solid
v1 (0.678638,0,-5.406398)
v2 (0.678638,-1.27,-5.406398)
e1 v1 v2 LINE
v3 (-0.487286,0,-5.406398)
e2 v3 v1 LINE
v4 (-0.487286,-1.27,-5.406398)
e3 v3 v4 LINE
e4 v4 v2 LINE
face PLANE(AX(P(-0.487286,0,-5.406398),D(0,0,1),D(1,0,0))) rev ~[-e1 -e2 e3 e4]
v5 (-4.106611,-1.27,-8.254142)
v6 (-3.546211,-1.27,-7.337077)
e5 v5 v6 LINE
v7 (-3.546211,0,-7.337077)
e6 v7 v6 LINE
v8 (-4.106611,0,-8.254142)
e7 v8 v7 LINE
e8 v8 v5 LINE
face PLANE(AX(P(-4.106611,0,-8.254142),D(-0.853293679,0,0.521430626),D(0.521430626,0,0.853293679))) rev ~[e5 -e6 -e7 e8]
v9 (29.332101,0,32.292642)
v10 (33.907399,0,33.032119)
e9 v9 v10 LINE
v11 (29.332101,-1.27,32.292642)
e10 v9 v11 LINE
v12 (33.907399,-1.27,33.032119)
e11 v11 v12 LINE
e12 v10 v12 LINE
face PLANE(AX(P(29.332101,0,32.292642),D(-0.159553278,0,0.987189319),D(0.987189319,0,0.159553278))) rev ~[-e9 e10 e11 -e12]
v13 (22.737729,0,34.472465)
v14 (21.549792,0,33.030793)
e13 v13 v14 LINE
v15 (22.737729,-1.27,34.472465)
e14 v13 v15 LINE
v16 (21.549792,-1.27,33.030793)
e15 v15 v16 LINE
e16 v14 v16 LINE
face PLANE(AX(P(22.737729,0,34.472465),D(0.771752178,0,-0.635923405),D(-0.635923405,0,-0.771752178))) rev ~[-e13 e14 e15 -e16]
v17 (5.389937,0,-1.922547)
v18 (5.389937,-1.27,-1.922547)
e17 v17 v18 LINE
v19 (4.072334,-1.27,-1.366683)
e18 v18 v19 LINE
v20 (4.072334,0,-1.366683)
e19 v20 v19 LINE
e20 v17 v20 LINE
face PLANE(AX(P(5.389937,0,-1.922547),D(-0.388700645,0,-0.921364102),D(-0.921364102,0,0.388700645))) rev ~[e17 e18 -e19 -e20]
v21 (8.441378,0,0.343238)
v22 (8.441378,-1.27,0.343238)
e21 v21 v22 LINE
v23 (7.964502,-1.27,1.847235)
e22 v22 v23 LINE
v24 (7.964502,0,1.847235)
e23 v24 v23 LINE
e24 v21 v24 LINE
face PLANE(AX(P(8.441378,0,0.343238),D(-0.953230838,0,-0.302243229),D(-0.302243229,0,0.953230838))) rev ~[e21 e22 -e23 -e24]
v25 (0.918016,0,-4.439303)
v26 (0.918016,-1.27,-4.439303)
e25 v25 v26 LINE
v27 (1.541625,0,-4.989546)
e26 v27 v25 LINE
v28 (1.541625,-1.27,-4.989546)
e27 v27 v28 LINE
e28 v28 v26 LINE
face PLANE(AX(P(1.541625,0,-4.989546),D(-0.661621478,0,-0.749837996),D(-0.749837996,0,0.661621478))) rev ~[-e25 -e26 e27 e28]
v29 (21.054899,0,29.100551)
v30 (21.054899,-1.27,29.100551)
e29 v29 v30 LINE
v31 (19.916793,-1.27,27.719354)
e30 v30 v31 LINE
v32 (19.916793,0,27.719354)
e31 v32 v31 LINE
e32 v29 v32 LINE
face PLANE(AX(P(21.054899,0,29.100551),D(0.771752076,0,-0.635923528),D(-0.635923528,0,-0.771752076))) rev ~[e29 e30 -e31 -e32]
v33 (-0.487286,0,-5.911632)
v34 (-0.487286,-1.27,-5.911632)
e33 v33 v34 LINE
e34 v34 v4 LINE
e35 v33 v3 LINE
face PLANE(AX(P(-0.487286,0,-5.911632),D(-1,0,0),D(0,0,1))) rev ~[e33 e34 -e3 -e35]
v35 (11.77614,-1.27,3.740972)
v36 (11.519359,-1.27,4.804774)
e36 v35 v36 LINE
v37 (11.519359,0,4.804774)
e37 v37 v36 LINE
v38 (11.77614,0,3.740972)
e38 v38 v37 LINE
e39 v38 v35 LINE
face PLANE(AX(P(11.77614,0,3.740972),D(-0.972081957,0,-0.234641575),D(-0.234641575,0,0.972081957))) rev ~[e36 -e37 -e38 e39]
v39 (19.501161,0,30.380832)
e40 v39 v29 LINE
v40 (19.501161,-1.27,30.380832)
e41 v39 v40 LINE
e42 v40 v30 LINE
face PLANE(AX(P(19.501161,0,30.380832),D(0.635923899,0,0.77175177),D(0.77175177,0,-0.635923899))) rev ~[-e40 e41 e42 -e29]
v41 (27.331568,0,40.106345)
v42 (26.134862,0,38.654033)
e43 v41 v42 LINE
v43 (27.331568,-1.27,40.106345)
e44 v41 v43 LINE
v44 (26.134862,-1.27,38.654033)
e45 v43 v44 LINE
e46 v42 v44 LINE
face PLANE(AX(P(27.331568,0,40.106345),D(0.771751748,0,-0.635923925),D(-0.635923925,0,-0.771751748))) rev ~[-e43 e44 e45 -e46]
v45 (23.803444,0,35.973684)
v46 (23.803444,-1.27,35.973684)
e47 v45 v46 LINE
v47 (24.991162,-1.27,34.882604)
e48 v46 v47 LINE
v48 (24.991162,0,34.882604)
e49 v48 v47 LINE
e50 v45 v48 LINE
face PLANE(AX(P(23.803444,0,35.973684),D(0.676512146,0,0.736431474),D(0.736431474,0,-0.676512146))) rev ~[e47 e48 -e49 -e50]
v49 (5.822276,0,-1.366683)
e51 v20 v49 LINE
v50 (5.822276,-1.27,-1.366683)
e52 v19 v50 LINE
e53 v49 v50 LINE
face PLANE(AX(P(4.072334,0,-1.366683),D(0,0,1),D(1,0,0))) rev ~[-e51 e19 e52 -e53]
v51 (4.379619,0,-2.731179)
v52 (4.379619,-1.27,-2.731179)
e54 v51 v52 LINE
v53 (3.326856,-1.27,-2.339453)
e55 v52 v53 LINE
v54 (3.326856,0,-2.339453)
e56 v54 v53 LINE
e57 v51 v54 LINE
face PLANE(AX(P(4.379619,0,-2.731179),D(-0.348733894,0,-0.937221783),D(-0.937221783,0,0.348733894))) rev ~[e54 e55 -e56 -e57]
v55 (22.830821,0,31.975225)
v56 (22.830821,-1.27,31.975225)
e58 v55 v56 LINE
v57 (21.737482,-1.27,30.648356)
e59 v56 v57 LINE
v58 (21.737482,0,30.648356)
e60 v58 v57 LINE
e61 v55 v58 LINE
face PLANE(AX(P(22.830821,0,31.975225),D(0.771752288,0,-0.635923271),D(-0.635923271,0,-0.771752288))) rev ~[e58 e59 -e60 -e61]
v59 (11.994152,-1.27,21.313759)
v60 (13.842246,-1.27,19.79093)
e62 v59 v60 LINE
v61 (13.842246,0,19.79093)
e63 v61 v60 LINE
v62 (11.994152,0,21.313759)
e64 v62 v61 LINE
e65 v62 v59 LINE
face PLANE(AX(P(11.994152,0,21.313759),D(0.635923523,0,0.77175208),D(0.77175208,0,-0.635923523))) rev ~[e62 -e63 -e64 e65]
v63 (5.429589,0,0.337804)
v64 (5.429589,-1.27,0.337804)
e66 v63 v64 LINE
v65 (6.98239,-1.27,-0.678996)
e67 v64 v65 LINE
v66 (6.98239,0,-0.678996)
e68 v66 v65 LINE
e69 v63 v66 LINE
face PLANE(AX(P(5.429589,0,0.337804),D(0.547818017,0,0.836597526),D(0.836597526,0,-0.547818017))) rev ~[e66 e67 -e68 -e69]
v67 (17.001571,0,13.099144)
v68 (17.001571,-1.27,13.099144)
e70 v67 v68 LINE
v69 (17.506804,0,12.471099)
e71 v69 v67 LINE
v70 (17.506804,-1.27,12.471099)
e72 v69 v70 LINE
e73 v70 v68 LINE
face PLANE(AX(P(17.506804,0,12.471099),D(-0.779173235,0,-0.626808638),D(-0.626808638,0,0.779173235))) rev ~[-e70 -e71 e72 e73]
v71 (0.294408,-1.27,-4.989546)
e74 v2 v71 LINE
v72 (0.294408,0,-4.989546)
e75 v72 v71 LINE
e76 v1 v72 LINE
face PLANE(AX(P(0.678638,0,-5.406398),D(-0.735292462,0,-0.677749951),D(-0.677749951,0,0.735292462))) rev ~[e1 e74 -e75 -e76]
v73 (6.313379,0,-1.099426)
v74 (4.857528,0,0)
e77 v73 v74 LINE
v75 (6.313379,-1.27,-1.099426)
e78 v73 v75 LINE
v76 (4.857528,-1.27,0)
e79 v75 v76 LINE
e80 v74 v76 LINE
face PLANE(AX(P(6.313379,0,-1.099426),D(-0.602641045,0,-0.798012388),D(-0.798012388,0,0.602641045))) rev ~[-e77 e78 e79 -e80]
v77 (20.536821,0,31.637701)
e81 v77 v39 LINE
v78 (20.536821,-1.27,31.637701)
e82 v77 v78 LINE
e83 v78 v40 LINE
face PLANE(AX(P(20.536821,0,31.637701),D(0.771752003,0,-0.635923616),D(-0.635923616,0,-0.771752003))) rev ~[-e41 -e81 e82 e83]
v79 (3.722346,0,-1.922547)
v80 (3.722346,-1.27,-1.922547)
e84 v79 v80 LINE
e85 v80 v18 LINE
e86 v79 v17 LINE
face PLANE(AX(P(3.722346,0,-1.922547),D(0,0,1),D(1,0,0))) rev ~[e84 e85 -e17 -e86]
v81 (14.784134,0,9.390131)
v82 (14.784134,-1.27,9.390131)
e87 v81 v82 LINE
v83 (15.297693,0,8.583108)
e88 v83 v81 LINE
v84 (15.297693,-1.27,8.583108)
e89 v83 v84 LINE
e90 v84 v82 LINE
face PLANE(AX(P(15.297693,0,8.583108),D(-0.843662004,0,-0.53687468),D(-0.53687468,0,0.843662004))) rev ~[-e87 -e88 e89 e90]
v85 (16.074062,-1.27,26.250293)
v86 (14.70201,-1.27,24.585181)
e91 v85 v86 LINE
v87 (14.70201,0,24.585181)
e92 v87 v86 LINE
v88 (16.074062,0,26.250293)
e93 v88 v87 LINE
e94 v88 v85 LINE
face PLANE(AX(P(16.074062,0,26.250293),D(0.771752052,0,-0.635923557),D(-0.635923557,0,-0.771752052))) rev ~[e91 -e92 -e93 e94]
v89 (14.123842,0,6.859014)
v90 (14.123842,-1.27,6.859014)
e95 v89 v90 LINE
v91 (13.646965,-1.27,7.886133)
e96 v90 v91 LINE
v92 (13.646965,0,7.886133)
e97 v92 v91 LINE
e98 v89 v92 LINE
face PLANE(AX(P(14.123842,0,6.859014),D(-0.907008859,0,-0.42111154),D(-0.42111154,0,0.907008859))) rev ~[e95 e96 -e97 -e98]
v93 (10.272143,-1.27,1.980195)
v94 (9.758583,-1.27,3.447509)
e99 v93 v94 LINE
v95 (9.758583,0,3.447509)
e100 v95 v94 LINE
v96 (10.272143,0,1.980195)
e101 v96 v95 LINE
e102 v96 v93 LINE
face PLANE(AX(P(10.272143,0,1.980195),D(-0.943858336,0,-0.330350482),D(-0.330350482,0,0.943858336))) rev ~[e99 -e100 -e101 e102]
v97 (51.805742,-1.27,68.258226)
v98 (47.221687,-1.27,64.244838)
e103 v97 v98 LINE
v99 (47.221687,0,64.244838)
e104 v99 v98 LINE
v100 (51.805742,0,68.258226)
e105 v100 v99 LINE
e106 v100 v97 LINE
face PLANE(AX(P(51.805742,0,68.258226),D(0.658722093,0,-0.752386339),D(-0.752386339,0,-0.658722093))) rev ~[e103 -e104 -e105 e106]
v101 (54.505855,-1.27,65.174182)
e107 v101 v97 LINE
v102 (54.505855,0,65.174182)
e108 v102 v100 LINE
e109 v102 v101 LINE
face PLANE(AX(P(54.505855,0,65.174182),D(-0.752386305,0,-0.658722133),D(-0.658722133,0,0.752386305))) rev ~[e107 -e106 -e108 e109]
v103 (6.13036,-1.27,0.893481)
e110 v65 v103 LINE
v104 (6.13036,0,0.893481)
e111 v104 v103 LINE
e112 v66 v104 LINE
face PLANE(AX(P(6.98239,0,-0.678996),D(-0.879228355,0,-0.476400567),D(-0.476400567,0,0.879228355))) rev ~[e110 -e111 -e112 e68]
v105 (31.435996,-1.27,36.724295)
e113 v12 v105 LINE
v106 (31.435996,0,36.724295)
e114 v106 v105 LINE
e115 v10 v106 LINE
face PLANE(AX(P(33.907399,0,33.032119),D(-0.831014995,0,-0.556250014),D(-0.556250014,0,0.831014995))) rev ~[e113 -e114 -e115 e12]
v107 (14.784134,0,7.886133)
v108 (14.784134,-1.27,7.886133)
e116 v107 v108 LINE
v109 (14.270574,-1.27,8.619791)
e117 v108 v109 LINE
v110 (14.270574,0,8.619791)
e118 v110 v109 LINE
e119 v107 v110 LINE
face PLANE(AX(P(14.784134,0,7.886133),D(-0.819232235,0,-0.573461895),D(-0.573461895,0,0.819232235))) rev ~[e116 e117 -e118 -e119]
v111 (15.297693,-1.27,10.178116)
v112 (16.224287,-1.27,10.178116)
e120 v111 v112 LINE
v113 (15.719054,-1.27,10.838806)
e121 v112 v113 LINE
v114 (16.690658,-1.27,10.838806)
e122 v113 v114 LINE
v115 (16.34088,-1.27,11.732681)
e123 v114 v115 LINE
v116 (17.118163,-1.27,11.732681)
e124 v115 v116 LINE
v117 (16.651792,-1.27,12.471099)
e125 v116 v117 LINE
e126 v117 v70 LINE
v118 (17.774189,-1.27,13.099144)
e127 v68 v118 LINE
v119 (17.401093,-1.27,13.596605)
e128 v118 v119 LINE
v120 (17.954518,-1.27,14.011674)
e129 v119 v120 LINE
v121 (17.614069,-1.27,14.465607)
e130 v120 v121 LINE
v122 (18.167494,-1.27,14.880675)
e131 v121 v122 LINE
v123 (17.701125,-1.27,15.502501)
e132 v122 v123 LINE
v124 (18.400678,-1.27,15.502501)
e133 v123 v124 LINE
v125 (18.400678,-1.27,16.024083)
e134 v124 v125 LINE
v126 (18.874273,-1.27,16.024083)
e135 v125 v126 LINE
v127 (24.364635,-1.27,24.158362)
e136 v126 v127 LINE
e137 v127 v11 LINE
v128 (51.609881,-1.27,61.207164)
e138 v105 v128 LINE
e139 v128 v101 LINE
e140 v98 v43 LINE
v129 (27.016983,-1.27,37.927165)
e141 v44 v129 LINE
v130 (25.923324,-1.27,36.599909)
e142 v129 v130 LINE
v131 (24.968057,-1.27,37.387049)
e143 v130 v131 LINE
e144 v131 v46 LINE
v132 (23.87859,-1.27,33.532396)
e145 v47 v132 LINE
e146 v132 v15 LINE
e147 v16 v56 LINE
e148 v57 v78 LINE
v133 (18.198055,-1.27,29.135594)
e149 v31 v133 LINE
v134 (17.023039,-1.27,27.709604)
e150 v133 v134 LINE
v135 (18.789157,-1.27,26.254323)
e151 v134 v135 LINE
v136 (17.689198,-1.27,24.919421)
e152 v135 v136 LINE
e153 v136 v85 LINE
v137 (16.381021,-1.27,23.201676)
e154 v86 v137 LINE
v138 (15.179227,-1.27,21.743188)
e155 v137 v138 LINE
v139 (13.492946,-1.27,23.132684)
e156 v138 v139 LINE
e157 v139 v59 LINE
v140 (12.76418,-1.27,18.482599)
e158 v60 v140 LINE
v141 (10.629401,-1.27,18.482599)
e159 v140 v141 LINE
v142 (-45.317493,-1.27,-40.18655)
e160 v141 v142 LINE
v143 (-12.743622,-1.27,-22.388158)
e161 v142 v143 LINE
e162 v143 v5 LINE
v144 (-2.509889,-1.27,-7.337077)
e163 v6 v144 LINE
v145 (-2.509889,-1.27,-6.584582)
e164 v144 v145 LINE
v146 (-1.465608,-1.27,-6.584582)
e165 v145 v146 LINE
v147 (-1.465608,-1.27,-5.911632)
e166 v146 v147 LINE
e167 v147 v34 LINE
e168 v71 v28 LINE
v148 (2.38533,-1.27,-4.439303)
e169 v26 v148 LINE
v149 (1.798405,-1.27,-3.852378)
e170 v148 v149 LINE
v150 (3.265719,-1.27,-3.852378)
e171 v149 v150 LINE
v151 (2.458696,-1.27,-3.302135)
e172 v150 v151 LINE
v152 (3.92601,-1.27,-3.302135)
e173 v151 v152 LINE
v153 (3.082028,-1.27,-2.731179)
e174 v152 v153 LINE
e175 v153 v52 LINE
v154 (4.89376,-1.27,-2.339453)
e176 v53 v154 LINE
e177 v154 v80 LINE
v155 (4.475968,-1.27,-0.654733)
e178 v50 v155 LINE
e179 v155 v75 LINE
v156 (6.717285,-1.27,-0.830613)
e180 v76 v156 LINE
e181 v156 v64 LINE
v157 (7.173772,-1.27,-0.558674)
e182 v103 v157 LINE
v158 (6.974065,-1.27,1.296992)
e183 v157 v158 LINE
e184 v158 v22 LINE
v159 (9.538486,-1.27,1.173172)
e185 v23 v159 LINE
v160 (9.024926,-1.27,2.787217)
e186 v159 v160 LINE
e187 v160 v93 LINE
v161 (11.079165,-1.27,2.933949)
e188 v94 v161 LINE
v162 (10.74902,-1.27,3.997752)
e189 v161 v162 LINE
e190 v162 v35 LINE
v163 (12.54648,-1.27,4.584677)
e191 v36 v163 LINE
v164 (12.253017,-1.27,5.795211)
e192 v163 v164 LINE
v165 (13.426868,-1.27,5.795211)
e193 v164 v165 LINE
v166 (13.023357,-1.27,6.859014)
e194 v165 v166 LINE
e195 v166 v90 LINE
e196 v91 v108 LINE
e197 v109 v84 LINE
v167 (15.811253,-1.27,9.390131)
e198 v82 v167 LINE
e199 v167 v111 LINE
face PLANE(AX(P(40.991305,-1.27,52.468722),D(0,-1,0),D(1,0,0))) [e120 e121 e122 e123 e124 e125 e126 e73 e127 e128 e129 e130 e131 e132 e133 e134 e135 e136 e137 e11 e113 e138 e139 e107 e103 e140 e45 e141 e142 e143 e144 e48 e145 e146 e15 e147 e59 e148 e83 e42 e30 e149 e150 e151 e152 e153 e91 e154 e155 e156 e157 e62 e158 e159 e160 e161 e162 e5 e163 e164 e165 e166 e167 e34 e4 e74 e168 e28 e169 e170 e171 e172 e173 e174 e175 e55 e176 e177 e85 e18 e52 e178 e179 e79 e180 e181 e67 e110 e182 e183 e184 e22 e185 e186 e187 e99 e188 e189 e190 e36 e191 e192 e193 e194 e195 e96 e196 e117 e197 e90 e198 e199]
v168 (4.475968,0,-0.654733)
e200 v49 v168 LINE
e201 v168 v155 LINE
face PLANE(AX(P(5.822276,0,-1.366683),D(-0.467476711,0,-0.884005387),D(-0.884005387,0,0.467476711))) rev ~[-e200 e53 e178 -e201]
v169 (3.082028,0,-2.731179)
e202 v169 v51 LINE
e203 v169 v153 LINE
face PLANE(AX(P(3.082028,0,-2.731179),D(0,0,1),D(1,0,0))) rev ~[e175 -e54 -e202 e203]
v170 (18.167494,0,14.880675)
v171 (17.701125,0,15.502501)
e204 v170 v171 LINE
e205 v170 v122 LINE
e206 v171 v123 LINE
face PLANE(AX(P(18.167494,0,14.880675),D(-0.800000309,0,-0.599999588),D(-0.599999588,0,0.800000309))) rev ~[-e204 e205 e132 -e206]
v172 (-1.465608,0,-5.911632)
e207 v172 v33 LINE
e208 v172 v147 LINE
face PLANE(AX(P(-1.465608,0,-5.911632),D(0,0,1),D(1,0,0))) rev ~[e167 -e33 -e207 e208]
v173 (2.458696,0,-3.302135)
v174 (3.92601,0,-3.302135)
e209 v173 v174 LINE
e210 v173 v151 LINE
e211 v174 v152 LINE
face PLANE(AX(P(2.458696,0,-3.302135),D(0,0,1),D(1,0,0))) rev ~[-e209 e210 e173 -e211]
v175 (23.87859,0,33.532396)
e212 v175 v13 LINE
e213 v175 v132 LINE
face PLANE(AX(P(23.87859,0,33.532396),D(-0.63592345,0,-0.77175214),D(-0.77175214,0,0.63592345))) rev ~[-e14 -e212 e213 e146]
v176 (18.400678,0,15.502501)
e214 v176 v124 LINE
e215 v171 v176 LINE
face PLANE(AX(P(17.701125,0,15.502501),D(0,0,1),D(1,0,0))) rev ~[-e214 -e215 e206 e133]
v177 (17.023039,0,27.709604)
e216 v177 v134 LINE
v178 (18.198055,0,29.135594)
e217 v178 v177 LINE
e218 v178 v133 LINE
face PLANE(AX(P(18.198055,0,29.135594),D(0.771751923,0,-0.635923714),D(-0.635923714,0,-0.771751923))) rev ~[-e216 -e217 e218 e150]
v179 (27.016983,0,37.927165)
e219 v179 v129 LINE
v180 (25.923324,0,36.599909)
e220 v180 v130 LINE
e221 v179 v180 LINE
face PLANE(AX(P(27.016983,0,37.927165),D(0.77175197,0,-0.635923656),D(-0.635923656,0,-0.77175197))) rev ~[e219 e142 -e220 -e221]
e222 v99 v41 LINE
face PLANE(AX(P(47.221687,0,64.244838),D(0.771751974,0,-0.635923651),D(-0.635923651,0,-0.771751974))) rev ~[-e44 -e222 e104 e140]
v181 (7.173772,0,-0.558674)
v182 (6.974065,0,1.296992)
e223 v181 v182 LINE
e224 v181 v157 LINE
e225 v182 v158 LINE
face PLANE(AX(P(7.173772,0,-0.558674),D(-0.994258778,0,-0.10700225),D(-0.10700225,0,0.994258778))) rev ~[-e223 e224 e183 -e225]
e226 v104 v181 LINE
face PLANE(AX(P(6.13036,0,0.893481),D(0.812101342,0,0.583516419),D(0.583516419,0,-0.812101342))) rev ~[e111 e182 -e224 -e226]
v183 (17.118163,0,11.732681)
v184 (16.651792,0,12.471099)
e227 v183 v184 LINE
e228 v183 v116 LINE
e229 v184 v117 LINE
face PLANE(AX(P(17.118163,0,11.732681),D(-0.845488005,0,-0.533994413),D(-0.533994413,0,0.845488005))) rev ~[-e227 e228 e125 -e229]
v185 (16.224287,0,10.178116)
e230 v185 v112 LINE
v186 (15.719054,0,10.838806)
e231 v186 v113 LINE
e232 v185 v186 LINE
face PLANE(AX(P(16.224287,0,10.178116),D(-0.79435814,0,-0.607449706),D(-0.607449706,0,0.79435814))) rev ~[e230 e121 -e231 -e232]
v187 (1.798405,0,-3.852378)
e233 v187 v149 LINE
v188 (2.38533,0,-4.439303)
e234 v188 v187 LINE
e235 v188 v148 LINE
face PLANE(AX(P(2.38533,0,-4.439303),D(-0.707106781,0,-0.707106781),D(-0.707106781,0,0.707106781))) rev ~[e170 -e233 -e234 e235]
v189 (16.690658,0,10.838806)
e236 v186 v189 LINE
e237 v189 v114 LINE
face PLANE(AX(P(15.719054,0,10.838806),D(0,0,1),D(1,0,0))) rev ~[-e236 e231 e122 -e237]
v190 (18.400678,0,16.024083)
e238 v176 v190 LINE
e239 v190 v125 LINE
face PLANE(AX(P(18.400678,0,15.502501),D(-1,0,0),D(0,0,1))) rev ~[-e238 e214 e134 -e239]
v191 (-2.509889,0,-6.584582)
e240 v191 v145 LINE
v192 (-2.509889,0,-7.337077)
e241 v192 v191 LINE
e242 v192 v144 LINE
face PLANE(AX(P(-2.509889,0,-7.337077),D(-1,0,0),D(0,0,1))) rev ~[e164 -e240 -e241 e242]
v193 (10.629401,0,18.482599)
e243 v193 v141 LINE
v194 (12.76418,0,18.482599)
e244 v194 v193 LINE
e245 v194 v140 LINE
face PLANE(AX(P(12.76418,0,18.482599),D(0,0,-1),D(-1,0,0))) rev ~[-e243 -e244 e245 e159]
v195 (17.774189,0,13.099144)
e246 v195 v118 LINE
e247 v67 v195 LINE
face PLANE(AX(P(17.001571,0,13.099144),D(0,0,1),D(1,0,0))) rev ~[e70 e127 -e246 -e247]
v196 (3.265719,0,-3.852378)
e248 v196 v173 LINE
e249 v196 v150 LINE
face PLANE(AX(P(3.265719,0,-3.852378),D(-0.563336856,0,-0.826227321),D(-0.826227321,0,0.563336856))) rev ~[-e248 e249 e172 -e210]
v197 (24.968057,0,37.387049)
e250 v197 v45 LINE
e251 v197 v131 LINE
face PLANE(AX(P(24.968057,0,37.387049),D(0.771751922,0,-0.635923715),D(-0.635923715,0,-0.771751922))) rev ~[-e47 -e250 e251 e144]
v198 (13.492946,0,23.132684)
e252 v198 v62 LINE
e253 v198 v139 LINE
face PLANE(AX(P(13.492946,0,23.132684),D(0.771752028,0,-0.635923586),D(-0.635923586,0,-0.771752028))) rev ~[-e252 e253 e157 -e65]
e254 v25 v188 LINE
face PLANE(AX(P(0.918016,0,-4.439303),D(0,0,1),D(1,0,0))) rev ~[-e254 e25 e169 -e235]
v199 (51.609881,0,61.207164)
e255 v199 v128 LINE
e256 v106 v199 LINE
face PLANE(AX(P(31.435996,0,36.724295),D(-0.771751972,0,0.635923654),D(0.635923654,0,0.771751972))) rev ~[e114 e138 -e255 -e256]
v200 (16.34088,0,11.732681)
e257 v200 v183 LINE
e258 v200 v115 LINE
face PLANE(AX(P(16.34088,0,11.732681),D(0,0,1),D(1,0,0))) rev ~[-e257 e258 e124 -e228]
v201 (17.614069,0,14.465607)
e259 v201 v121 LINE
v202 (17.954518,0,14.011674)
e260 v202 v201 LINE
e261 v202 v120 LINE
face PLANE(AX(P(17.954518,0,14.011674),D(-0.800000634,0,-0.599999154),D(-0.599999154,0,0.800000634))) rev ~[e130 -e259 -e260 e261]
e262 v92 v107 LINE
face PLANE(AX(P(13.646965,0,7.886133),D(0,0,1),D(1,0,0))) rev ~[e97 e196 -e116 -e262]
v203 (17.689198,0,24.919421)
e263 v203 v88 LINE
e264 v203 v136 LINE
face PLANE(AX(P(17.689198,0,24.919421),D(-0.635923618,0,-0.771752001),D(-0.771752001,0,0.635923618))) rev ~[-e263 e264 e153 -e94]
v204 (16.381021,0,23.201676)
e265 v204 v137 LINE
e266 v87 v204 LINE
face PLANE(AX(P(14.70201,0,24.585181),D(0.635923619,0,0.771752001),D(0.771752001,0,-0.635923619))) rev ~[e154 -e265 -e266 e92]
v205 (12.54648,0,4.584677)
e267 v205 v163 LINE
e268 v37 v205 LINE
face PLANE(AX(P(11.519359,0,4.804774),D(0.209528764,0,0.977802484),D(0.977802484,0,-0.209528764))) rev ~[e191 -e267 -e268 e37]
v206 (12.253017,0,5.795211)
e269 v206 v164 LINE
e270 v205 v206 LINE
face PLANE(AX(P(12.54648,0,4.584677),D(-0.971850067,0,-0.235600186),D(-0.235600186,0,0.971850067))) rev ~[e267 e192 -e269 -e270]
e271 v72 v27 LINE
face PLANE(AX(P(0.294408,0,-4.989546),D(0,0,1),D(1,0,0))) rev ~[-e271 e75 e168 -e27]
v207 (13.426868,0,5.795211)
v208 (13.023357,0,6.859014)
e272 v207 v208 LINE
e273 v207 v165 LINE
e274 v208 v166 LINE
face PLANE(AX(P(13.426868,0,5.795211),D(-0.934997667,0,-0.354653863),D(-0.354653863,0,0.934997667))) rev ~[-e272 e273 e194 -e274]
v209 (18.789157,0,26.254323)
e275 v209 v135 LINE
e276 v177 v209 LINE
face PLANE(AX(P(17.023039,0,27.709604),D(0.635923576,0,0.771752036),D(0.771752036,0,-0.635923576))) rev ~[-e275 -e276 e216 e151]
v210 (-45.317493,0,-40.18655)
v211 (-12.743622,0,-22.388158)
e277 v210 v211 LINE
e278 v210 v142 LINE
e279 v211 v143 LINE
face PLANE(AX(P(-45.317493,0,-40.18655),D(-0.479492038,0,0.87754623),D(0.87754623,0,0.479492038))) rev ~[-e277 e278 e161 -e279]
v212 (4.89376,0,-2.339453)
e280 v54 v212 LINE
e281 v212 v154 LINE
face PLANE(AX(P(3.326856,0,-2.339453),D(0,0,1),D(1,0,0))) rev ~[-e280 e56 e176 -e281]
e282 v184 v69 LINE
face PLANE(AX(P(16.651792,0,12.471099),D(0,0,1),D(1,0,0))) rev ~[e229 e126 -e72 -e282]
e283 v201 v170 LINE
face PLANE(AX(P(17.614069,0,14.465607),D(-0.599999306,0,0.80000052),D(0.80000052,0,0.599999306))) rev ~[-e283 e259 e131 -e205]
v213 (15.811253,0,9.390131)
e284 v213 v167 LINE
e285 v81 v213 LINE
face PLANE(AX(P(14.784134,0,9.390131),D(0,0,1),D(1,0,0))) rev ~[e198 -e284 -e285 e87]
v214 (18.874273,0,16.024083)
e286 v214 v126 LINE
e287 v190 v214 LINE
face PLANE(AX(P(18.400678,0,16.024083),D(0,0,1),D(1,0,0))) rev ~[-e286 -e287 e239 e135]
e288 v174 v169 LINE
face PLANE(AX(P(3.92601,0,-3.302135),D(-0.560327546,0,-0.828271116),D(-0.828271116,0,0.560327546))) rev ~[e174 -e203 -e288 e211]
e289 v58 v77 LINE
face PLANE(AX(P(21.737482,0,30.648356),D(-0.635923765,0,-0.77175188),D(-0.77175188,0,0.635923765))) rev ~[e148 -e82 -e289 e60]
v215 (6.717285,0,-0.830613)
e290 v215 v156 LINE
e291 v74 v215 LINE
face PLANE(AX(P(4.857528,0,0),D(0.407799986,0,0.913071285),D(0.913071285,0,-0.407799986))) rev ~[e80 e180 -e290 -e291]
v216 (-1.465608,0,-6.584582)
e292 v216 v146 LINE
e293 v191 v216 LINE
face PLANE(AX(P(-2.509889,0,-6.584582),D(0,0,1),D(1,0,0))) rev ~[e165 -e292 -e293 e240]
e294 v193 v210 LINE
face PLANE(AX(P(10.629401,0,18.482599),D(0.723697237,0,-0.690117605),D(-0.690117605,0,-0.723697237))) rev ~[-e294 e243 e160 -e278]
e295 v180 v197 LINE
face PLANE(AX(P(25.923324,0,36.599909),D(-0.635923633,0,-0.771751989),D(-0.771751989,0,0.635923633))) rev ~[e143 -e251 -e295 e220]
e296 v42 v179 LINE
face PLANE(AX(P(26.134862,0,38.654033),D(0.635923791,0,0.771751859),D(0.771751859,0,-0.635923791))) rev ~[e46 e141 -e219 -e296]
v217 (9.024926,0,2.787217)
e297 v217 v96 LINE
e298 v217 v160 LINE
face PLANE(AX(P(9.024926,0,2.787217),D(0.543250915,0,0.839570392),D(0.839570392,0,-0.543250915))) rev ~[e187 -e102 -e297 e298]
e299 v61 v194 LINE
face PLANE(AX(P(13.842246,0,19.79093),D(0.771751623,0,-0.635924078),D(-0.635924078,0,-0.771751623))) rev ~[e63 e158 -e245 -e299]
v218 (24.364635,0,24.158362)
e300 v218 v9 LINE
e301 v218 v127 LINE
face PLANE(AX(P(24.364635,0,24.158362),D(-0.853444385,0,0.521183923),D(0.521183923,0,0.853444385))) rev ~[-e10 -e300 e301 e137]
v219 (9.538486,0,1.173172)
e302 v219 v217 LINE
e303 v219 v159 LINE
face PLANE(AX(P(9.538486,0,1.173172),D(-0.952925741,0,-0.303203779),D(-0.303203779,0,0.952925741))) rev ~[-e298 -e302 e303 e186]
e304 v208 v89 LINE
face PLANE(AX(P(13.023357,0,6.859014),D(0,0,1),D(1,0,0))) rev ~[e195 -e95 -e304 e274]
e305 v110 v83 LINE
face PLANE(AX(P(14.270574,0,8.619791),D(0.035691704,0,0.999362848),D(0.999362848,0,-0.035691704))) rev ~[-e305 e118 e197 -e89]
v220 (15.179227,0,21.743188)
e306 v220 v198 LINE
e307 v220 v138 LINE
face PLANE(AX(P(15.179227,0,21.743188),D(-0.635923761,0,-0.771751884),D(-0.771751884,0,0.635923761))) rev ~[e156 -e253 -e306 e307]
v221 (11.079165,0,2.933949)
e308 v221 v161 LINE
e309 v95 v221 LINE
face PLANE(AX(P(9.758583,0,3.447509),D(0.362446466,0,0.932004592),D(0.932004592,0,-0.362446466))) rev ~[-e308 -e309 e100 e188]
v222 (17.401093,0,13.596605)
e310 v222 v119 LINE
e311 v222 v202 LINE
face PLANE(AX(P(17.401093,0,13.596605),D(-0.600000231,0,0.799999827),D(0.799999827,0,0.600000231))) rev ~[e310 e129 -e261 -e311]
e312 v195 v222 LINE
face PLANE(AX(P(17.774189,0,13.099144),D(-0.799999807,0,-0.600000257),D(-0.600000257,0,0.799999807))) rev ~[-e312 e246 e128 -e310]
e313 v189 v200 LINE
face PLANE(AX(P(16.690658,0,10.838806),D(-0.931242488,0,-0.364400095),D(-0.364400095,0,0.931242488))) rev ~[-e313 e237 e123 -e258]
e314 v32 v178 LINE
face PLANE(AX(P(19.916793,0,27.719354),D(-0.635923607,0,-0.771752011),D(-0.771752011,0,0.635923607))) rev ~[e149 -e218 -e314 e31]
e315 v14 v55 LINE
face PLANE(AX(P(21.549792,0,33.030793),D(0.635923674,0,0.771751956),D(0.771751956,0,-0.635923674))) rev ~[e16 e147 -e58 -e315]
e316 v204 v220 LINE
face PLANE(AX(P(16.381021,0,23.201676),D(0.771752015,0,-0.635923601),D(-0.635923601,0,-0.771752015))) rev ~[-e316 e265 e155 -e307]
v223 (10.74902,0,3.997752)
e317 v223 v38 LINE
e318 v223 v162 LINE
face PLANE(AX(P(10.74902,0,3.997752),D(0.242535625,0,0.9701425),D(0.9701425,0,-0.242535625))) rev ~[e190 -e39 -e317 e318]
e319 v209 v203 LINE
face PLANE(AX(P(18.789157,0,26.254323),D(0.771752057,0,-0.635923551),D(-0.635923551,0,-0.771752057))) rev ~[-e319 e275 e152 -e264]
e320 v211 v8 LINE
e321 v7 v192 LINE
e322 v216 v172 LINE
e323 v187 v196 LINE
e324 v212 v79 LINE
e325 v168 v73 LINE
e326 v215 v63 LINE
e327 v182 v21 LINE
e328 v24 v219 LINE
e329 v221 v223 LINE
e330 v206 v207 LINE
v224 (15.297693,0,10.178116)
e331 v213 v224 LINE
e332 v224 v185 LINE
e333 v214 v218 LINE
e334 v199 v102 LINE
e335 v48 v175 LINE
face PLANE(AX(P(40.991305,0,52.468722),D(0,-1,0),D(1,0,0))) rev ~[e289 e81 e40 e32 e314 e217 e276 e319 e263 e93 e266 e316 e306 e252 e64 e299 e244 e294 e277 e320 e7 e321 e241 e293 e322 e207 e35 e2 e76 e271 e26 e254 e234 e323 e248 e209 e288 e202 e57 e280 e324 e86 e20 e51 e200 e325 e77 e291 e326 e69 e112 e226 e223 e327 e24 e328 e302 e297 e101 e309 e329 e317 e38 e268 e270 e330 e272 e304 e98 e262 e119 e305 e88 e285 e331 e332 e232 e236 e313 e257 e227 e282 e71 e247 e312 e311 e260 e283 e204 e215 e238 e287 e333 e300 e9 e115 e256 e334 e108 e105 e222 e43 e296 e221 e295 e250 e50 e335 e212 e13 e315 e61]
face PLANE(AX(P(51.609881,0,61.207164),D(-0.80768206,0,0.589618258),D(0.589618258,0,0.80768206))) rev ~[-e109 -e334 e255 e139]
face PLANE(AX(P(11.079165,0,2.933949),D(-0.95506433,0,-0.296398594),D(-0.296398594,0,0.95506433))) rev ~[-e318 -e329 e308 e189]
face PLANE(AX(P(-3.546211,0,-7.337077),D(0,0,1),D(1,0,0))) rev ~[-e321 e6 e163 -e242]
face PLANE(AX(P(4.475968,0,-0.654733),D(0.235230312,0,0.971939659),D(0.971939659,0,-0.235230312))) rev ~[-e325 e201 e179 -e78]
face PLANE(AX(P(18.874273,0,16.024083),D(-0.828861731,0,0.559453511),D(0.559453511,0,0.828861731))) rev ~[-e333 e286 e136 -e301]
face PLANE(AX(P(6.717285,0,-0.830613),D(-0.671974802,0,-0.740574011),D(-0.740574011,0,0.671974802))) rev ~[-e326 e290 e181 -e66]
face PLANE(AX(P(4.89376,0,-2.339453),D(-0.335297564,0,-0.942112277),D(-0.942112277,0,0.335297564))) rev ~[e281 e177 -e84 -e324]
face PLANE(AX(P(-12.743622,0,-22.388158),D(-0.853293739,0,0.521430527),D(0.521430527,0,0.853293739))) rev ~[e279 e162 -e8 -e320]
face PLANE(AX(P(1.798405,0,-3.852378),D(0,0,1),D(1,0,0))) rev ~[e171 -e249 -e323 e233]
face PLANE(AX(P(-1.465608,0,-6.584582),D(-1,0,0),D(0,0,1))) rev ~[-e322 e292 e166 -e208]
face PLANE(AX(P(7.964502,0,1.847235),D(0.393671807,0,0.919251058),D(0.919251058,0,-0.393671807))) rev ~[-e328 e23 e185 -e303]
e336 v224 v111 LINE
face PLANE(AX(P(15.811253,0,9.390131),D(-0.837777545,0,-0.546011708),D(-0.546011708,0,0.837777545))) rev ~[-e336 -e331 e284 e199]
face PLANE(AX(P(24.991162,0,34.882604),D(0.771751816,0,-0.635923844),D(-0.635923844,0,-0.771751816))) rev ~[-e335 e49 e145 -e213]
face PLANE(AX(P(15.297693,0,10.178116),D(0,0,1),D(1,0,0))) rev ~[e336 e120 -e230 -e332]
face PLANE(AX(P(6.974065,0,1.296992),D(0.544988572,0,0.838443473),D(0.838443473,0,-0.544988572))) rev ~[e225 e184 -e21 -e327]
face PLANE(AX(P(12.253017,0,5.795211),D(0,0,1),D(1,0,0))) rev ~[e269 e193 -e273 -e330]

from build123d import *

# Parameters (mm, degrees)
F1_DEPTH = 1.27


with BuildPart() as f1:
    # F0 (on Front) → F1 (new body)
    with BuildSketch(Plane.XZ):
        Polygon((31.435996, 36.724295), (51.609881, 61.207164), (54.505855, 65.174182), (51.805742, 68.258226), (47.221687, 64.244838), (27.331568, 40.106345), align=None)
        Polygon((33.907399, 33.032119), (31.435996, 36.724295), (27.331568, 40.106345), (26.134862, 38.654033), (27.016983, 37.927165), (25.923324, 36.599909), (24.968057, 37.387049), (23.803444, 35.973684), (24.991162, 34.882604), (23.87859, 33.532396), (22.737729, 34.472465), (21.549792, 33.030793), (22.830821, 31.975225), (21.737482, 30.648356), (20.536821, 31.637701), (19.501161, 30.380832), (21.054899, 29.100551), (19.916793, 27.719354), (18.198055, 29.135594), (17.023039, 27.709604), (18.789157, 26.254323), (17.689198, 24.919421), (16.074062, 26.250293), (14.70201, 24.585181), (16.381021, 23.201676), (15.179227, 21.743188), (13.492946, 23.132684), (11.994152, 21.313759), (13.842246, 19.79093), (12.76418, 18.482599), (10.629401, 18.482599), (-45.317493, -40.18655), (-12.743622, -22.388158), (-4.106611, -8.254142), (-3.546211, -7.337077), (-2.509889, -7.337077), (-2.509889, -6.584582), (-1.465608, -6.584582), (-1.465608, -5.911632), (-0.487286, -5.911632), (-0.487286, -5.406398), (0.678638, -5.406398), (0.294408, -4.989546), (1.541625, -4.989546), (0.918016, -4.439303), (2.38533, -4.439303), (1.798405, -3.852378), (3.265719, -3.852378), (2.458696, -3.302135), (3.92601, -3.302135), (3.082028, -2.731179), (4.379619, -2.731179), (3.326856, -2.339453), (4.89376, -2.339453), (3.722346, -1.922547), (5.389937, -1.922547), (4.072334, -1.366683), (5.822276, -1.366683), (4.475968, -0.654733), (6.313379, -1.099426), (4.857528, 0), (6.717285, -0.830613), (5.429589, 0.337804), (6.98239, -0.678996), (6.13036, 0.893481), (7.173772, -0.558674), (6.974065, 1.296992), (8.441378, 0.343238), (7.964502, 1.847235), (9.538486, 1.173172), (9.024926, 2.787217), (10.272143, 1.980195), (9.758583, 3.447509), (11.079165, 2.933949), (10.74902, 3.997752), (11.77614, 3.740972), (11.519359, 4.804774), (12.54648, 4.584677), (12.253017, 5.795211), (13.426868, 5.795211), (13.023357, 6.859014), (14.123842, 6.859014), (13.646965, 7.886133), (14.784134, 7.886133), (14.270574, 8.619791), (15.297693, 8.583108), (14.784134, 9.390131), (15.811253, 9.390131), (15.297693, 10.178116), (16.224287, 10.178116), (15.719054, 10.838806), (16.690658, 10.838806), (16.34088, 11.732681), (17.118163, 11.732681), (16.651792, 12.471099), (17.506804, 12.471099), (17.001571, 13.099144), (17.774189, 13.099144), (17.401093, 13.596605), (17.954518, 14.011674), (17.614069, 14.465607), (18.167494, 14.880675), (17.701125, 15.502501), (18.400678, 15.502501), (18.400678, 16.024083), (18.874273, 16.024083), (24.364635, 24.158362), (29.332101, 32.292642), align=None)
    extrude(amount=F1_DEPTH)


solid = f1.part
